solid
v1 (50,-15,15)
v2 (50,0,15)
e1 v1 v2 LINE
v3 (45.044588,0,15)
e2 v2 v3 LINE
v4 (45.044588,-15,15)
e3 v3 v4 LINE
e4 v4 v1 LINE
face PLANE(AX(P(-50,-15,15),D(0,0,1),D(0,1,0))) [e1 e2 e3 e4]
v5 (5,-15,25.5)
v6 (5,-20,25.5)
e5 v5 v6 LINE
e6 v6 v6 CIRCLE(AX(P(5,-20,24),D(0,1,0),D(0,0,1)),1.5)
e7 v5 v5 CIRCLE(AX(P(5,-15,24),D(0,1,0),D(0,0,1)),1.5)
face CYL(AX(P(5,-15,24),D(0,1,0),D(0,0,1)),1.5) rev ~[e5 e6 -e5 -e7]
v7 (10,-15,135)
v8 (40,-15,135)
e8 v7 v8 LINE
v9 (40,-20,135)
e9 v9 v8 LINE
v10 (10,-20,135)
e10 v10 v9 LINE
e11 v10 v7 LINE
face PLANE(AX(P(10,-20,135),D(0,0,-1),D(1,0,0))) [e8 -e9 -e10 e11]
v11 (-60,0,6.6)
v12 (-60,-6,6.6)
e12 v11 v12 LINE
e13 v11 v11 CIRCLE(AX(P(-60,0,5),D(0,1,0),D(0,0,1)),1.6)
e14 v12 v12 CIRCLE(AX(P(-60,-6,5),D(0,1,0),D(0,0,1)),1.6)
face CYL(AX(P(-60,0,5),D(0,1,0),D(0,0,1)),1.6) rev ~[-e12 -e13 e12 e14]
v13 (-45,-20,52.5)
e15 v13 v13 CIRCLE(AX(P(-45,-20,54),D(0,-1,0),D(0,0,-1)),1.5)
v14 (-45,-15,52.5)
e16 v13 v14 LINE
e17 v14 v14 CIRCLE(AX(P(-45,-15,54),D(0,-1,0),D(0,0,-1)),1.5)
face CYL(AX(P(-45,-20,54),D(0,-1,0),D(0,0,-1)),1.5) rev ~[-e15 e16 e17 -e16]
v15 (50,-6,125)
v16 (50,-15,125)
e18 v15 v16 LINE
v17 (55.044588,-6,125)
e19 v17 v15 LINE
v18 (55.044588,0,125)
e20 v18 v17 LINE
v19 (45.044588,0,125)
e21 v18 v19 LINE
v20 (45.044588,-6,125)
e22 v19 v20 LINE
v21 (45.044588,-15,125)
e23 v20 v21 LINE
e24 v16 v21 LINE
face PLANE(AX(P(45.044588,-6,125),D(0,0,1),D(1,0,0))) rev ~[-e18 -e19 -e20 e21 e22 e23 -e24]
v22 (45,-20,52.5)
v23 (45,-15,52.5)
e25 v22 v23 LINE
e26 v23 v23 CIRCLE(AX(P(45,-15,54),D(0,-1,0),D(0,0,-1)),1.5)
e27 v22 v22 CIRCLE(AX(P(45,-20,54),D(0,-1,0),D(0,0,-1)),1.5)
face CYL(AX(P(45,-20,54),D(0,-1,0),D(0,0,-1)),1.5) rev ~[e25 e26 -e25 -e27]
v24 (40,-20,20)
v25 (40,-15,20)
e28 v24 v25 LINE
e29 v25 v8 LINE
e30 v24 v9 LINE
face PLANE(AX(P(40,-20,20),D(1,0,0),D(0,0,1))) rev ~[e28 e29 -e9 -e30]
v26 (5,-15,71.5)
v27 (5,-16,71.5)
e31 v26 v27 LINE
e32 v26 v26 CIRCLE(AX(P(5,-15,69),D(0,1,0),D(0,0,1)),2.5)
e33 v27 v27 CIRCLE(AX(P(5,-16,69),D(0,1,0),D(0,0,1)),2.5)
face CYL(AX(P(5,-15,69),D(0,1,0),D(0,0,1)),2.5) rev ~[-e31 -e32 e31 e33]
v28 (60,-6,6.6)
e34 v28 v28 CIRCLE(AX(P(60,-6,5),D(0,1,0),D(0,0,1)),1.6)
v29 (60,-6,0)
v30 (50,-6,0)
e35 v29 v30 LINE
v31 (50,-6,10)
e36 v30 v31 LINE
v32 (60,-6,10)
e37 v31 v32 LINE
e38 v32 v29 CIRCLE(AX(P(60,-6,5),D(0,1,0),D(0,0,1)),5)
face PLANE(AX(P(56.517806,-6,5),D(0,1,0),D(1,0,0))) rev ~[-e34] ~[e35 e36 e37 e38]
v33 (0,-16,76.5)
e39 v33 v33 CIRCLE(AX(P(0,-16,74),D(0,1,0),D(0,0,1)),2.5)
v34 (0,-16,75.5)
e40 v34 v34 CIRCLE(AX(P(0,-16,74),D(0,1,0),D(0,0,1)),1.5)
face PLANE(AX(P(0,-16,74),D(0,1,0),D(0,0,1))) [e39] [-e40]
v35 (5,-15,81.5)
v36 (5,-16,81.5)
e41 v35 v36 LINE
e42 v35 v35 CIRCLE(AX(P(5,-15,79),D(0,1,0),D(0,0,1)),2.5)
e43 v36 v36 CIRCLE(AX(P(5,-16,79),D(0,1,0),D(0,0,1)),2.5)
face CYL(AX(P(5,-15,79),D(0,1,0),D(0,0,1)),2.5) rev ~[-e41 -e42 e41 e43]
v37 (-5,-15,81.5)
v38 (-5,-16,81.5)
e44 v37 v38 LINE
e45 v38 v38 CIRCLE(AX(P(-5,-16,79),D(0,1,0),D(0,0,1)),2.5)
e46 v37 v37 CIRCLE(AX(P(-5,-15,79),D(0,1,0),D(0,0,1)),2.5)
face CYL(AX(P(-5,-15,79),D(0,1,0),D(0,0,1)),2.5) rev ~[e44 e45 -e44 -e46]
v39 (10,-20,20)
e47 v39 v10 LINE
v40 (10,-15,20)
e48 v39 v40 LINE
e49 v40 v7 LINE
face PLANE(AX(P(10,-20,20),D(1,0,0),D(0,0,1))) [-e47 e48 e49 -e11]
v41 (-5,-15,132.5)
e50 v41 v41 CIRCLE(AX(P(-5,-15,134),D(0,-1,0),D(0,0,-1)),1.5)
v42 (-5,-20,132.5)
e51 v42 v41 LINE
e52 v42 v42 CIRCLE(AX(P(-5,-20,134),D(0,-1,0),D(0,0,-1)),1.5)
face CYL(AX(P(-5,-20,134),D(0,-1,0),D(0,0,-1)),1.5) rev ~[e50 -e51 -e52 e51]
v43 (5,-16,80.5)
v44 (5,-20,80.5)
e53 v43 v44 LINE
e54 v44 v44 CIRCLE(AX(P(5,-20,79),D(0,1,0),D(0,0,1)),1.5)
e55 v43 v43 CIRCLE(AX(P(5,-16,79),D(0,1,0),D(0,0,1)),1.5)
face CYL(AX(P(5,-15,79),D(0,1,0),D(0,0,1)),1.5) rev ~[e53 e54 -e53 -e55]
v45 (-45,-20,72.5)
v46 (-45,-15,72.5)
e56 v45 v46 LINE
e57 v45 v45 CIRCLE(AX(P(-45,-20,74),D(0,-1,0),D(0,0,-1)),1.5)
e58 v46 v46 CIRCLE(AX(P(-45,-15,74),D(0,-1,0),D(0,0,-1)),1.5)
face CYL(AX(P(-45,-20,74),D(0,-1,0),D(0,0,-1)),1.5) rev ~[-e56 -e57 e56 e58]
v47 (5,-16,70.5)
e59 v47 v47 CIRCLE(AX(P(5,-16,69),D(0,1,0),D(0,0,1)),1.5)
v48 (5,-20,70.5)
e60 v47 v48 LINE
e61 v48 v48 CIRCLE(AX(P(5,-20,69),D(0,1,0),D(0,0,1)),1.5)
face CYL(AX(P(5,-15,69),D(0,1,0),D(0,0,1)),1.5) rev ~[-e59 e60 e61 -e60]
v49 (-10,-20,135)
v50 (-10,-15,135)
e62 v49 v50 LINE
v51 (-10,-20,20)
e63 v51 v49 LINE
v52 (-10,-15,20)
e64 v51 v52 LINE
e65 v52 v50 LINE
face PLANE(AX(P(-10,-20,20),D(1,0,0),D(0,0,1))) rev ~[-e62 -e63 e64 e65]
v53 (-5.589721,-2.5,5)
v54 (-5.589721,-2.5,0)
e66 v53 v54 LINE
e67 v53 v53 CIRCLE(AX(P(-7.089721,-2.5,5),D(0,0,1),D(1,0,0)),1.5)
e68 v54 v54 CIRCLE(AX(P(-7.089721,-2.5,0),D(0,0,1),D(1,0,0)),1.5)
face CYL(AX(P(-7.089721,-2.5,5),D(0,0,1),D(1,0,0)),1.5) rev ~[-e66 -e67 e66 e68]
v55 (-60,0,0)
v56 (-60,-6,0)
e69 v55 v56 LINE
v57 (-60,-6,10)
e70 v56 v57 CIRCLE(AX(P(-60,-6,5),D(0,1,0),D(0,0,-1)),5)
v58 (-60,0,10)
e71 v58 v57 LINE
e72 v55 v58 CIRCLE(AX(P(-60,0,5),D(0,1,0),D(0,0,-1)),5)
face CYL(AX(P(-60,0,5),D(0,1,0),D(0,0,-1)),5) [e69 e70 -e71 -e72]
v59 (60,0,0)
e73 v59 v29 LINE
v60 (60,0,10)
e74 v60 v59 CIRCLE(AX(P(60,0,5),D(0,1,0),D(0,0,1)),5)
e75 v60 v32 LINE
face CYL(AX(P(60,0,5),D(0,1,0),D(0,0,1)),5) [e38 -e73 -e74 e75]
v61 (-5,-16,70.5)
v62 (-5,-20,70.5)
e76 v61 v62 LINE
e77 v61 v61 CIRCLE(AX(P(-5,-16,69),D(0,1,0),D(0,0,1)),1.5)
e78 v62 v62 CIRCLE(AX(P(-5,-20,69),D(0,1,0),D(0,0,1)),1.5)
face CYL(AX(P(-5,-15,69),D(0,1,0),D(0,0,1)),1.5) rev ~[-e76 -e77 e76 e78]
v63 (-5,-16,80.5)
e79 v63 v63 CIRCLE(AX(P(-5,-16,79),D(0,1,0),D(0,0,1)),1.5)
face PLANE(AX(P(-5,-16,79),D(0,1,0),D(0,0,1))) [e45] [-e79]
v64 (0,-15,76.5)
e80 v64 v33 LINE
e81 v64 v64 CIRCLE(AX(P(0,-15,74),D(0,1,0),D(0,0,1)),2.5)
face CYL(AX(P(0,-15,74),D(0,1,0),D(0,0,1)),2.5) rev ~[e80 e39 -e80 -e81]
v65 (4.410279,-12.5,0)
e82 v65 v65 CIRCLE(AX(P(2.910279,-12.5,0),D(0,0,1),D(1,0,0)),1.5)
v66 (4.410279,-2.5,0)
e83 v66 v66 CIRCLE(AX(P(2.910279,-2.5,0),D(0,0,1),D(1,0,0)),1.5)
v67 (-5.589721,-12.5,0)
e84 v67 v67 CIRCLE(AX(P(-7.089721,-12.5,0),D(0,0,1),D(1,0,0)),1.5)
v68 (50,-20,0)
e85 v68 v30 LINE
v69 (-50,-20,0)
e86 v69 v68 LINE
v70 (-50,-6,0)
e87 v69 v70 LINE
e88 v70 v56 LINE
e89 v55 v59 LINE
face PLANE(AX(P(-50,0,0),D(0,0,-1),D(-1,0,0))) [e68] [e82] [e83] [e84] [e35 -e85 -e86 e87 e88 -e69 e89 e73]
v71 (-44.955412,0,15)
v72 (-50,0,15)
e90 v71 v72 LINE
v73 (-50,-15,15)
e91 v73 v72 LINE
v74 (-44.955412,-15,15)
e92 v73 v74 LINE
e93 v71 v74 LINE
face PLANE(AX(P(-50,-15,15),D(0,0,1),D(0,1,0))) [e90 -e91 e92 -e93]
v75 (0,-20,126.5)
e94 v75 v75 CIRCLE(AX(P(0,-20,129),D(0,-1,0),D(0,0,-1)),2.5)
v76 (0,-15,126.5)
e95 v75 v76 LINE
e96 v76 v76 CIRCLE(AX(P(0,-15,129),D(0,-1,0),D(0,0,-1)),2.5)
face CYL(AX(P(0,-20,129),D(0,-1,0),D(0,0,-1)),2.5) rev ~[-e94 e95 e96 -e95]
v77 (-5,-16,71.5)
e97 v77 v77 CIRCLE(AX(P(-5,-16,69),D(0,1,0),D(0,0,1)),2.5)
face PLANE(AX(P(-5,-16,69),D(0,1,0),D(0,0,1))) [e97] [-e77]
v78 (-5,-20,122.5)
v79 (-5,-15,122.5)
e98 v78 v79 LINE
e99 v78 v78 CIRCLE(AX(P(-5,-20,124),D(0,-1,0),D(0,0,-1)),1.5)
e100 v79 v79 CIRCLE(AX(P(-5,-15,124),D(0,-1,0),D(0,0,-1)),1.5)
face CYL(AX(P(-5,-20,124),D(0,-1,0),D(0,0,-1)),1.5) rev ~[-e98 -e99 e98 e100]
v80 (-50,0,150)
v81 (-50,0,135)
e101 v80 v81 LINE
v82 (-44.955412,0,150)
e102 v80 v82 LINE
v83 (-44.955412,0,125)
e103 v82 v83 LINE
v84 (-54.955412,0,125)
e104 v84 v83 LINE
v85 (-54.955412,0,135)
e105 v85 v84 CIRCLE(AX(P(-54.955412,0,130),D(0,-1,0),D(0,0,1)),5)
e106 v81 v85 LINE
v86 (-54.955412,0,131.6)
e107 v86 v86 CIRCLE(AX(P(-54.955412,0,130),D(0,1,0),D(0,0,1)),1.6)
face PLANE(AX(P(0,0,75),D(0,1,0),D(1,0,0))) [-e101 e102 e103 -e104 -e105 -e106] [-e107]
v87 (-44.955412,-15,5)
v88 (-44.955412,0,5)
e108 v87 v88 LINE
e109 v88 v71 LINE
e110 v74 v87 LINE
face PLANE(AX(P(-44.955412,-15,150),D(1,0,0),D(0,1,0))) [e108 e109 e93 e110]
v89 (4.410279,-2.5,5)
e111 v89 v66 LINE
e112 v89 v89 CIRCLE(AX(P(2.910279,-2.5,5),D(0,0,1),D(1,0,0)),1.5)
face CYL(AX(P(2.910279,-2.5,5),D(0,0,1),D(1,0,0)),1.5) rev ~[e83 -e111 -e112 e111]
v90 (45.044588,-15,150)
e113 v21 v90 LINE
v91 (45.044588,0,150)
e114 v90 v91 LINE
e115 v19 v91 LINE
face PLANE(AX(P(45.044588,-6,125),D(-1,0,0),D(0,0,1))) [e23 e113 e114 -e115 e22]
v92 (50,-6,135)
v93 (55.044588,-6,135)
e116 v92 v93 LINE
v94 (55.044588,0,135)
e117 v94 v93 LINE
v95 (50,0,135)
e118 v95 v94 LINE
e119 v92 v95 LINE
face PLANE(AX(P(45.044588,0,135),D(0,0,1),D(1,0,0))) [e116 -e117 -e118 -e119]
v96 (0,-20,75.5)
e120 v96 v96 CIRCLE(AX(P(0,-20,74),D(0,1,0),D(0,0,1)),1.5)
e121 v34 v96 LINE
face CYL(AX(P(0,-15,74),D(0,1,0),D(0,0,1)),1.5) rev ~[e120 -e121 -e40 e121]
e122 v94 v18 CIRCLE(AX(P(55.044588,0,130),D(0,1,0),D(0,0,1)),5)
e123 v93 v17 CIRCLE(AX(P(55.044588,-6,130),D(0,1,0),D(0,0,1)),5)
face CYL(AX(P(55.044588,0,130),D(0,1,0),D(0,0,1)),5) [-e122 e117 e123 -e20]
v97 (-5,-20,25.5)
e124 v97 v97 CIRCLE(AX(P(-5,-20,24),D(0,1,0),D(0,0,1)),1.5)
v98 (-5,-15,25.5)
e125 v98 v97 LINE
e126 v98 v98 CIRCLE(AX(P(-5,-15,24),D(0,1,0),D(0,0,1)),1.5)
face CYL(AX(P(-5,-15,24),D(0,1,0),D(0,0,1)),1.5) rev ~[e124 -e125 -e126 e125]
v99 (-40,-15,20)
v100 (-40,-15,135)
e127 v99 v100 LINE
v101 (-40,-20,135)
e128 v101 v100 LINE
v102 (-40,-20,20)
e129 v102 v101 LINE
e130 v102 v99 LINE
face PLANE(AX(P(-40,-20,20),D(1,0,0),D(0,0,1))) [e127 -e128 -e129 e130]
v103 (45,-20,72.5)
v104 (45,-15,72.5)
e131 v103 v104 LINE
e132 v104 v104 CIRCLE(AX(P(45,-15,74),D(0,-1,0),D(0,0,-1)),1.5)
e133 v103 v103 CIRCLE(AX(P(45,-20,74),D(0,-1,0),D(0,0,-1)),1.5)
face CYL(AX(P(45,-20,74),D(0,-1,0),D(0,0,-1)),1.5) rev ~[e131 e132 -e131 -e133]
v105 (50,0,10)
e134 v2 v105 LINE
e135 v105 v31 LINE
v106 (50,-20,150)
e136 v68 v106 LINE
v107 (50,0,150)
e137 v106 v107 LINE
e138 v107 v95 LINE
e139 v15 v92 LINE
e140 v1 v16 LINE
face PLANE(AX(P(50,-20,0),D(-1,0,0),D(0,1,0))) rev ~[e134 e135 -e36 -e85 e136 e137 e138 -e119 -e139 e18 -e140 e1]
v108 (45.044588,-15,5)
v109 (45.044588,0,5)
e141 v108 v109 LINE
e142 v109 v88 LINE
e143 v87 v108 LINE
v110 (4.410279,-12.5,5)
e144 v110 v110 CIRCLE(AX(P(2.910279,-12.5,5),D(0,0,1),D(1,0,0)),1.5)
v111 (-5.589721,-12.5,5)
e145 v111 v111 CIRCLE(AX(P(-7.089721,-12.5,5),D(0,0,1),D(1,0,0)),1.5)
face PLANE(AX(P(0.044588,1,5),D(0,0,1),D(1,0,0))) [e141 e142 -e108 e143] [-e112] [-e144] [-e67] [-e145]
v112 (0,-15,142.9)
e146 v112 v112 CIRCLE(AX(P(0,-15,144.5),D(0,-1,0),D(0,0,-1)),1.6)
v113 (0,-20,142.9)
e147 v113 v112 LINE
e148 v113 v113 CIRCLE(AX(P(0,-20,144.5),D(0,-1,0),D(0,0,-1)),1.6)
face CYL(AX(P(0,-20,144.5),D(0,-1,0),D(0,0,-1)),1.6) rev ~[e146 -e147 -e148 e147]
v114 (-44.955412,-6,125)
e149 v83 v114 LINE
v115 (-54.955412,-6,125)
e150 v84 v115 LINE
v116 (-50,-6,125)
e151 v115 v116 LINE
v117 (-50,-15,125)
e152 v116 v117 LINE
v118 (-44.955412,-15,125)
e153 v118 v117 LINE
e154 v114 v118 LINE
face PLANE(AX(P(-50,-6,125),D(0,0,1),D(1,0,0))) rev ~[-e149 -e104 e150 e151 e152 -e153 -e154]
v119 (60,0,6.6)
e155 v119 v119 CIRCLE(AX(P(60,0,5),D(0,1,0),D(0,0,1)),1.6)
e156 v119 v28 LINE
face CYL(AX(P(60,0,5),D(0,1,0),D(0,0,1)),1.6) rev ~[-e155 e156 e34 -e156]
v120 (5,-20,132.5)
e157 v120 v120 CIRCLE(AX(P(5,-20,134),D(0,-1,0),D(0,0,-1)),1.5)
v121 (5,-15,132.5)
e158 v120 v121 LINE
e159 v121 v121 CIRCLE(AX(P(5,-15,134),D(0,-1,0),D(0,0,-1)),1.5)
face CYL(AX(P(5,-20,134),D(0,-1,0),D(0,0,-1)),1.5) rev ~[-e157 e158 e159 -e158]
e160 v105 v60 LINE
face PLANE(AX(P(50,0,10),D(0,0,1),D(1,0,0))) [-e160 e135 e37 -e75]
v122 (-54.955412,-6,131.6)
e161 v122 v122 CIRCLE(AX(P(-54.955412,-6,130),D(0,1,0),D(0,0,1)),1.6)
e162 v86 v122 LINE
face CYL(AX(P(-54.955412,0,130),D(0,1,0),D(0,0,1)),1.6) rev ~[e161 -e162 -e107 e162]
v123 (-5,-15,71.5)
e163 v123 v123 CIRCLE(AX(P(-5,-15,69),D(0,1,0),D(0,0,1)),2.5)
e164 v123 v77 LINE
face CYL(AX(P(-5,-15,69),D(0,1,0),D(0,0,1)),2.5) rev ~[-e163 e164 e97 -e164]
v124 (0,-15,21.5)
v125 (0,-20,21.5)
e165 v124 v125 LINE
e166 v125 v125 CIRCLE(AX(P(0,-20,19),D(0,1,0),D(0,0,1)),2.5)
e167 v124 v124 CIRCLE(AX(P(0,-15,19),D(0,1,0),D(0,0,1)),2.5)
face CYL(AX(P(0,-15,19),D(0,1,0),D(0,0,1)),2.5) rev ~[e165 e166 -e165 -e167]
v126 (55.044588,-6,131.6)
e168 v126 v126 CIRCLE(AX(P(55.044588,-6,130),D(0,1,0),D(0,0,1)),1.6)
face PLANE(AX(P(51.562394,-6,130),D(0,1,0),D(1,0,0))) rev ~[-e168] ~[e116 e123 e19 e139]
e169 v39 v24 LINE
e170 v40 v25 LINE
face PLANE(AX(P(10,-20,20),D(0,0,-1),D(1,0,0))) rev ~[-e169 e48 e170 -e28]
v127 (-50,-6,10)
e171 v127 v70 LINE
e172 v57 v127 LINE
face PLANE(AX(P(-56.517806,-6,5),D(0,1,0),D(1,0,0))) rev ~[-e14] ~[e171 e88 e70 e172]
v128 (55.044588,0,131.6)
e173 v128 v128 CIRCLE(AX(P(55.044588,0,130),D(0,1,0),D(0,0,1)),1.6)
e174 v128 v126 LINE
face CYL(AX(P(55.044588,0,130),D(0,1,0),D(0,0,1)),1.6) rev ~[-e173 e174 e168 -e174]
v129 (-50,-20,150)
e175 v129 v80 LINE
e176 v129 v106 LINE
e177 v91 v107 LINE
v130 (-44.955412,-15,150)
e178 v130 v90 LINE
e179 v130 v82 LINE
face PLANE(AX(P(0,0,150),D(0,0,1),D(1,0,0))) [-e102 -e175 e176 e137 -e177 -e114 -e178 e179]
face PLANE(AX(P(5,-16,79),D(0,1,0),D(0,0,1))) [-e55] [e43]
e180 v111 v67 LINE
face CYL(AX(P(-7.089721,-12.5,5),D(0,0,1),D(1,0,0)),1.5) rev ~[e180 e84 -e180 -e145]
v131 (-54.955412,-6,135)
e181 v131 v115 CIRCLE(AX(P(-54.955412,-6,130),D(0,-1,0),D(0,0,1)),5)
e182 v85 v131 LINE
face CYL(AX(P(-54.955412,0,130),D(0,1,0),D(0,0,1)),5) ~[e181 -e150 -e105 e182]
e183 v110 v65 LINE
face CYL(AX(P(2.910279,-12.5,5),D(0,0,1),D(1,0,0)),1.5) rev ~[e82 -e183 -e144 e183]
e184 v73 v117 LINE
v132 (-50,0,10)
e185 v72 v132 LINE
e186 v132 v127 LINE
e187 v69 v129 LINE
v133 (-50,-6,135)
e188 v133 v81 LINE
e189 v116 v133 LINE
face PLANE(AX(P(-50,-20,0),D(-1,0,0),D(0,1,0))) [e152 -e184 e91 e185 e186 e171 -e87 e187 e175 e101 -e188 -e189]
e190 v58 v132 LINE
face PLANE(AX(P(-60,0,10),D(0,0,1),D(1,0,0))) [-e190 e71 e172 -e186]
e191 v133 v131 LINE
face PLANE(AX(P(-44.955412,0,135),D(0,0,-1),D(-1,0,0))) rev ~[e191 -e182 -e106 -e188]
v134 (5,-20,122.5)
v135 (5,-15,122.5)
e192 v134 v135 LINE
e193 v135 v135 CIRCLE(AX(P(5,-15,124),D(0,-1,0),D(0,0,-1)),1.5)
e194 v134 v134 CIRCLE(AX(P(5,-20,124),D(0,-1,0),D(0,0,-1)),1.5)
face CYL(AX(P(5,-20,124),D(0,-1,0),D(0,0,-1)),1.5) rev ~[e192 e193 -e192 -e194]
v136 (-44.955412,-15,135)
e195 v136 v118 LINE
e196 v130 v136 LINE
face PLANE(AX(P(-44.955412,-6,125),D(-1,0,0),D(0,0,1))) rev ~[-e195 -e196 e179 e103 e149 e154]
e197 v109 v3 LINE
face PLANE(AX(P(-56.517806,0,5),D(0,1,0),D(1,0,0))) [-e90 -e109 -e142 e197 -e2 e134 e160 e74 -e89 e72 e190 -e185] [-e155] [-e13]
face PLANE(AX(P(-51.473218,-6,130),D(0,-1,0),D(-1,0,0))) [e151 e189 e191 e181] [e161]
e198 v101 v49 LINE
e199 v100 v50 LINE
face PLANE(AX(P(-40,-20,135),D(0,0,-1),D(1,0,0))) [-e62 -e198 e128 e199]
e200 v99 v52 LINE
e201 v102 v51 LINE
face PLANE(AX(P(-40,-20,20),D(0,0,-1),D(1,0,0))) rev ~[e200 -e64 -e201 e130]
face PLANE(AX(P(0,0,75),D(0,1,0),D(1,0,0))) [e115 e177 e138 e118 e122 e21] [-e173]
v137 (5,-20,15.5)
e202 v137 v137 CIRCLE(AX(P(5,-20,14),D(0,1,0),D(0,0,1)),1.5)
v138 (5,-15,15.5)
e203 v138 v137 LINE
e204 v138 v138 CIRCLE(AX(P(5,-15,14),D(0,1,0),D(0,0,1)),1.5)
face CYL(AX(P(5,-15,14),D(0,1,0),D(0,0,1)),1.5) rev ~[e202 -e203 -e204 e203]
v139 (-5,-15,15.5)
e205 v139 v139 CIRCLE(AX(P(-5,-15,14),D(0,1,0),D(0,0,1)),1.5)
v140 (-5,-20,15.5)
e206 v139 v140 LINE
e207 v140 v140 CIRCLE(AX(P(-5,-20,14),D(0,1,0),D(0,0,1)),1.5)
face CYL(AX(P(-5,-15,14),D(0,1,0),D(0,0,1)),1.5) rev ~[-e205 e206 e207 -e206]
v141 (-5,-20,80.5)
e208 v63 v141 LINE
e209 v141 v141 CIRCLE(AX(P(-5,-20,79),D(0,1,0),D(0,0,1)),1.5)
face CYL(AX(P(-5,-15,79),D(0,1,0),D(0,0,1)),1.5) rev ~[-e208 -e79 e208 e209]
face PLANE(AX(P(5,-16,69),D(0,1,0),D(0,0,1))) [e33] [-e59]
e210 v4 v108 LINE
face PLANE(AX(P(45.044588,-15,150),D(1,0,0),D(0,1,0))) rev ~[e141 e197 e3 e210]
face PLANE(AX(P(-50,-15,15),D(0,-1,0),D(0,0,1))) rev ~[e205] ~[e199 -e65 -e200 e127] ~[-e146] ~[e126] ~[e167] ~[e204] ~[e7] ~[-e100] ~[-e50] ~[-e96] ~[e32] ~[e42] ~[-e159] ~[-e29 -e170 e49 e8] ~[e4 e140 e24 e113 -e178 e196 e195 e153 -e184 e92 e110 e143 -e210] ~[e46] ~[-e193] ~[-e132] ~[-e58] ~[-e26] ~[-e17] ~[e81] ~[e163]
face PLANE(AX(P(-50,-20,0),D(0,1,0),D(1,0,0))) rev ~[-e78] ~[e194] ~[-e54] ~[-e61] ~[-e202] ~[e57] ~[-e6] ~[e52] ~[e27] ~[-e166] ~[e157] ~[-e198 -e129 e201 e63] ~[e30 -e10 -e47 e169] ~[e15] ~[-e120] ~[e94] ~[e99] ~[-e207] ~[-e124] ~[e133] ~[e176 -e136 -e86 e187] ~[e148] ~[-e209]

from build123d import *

# Parameters (mm, degrees)
SKETCH_2_W           = 100
SKETCH_2_H           = 40
EXTRUDE_1_DEPTH      = 150
SKETCH_3_W           = 90
SKETCH_3_H           = 32
CUT_EXTRUDE_1_DEPTH  = 145
SKETCH_4_W           = 30
SKETCH_4_H           = 115
CUT_EXTRUDE_2_DEPTH  = 20
SKETCH_5_W           = 35
SKETCH_5_H           = 115
CUT_EXTRUDE_3_DEPTH  = 20
SKETCH_6_W           = 120
SKETCH_6_H           = 31
CUT_EXTRUDE_4_DEPTH  = 207
SKETCH_7_R           = 1.5
CUT_EXTRUDE_5_DEPTH  = 15
SKETCH_8_R           = 2.5
CUT_EXTRUDE_6_DEPTH  = 15
SKETCH_11_W          = 100
SKETCH_11_H          = 150
CUT_EXTRUDE_7_DEPTH  = 20
SKETCH_12_R          = 1.6
EXTRUDE_3_DEPTH      = 6
SKETCH_13_W          = 4.955411511
SKETCH_13_H          = 10
SKETCH_13_W_2        = 5.044588489
EXTRUDE_4_DEPTH      = 10
SKETCH_15_R          = 1.6
CUT_EXTRUDE_8_DEPTH  = 10
SKETCH_16_R          = 1.5
SKETCH_16_R_2        = 2.5
CUT_EXTRUDE_9_DEPTH  = 10
SKETCH_17_R          = 1.5
CUT_EXTRUDE_10_DEPTH = 10
SKETCH_18_R          = 1.5
CUT_EXTRUDE_11_DEPTH = 10
SKETCH_19_R          = 2.5
CUT_EXTRUDE_12_DEPTH = 1
SKETCH_20_R          = 2.5
CUT_EXTRUDE_13_DEPTH = 1


with BuildPart() as part:
    # 草图2 → 凸台-拉伸1 (new body)
    with BuildSketch(Plane.XY):
        Rectangle(SKETCH_2_W, SKETCH_2_H)
    extrude(amount=EXTRUDE_1_DEPTH)

    # 草图3 → 切除-拉伸1 (cut)
    with BuildSketch(Plane.XY.offset(150)):
        with Locations((0.044588489, 1)):
            Rectangle(SKETCH_3_W, SKETCH_3_H)
    extrude(amount=-CUT_EXTRUDE_1_DEPTH, mode=Mode.SUBTRACT)

    # 草图4 → 切除-拉伸2 (cut)
    with BuildSketch(Plane.XZ.offset(20)):
        with Locations((-25, 77.5)):
            Rectangle(SKETCH_4_W, SKETCH_4_H)
        with Locations((25, 77.5)):
            Rectangle(SKETCH_4_W, SKETCH_4_H)
    extrude(amount=-CUT_EXTRUDE_2_DEPTH, mode=Mode.SUBTRACT)

    # 草图5 → 切除-拉伸3 (cut)
    with BuildSketch(Plane(origin=(0, 20, 0), x_dir=(1, 0, 0), z_dir=(0, 1, 0))):
        with Locations((-22.5, -77.5)):
            Rectangle(SKETCH_5_W, SKETCH_5_H)
        with Locations((22.5, -77.5)):
            Rectangle(SKETCH_5_W, SKETCH_5_H)
    extrude(amount=-CUT_EXTRUDE_3_DEPTH, mode=Mode.SUBTRACT)

    # 草图6 → 切除-拉伸4 (cut)
    with BuildSketch(Plane.ZY.offset(50)):
        with Locations((75, 0.5)):
            Rectangle(SKETCH_6_W, SKETCH_6_H)
    extrude(amount=-CUT_EXTRUDE_4_DEPTH, mode=Mode.SUBTRACT)

    # 草图7 → 切除-拉伸5 (cut)
    with BuildSketch(Plane.XZ.offset(20)):
        with Locations(Location((-5, 134, 0), (0, 0, 270))):
            Circle(SKETCH_7_R)
        with Locations(Location((5, 134, 0), (0, 0, 270))):
            Circle(SKETCH_7_R)
        with Locations(Location((5, 124, 0), (0, 0, 270))):
            Circle(SKETCH_7_R)
        with Locations(Location((-5, 124, 0), (0, 0, 270))):
            Circle(SKETCH_7_R)
    extrude(amount=-CUT_EXTRUDE_5_DEPTH, mode=Mode.SUBTRACT)

    # 草图8 → 切除-拉伸6 (cut)
    with BuildSketch(Plane.XZ.offset(20)):
        with Locations(Location((0, 129, 0), (0, 0, 270))):
            Circle(SKETCH_8_R)
    extrude(amount=-CUT_EXTRUDE_6_DEPTH, mode=Mode.SUBTRACT)

    # 草图11 → 切除-拉伸7 (cut)
    with BuildSketch(Plane(origin=(0, 20, 0), x_dir=(1, 0, 0), z_dir=(0, 1, 0))):
        with Locations((0, -75)):
            Rectangle(SKETCH_11_W, SKETCH_11_H)
    extrude(amount=-CUT_EXTRUDE_7_DEPTH, mode=Mode.SUBTRACT)

    # 草图12 → 凸台-拉伸3 (add)
    # profile 1 of 4: a face of its own
    with BuildSketch(Plane(origin=(0, 0, 0), x_dir=(1, 0, 0), z_dir=(0, 1, 0))):
        with BuildLine():
            Line((-50, 0), (-60, 0))
            ThreePointArc((-60, 0), (-65, -5), (-60, -10))
            Line((-60, -10), (-50, -10))
            Line((-50, -10), (-50, 0))
        make_face()
        with Locations(Location((-60, -5, 0), (0, 0, 270))):
            Circle(SKETCH_12_R, mode=Mode.SUBTRACT)
    # profile 2 of 4: a face of its own
    with BuildSketch(Plane(origin=(0, 0, 0), x_dir=(1, 0, 0), z_dir=(0, 1, 0))):
        with BuildLine():
            Line((50, 0), (50, -10))
            Line((50, -10), (60, -10))
            ThreePointArc((60, -10), (65, -5), (60, 0))
            Line((60, 0), (50, 0))
        make_face()
        with Locations(Location((60, -5, 0), (0, 0, 270))):
            Circle(SKETCH_12_R, mode=Mode.SUBTRACT)
    # profile 3 of 4: a face of its own
    with BuildSketch(Plane(origin=(0, 0, 0), x_dir=(1, 0, 0), z_dir=(0, 1, 0))):
        with BuildLine():
            Line((45.044588489, -125), (45.044588489, -135))
            Line((45.044588489, -135), (55.044588489, -135))
            ThreePointArc((55.044588489, -135), (60.044588489, -130), (55.044588489, -125))
            Line((55.044588489, -125), (45.044588489, -125))
        make_face()
        with Locations(Location((55.044588489, -130, 0), (0, 0, 270))):
            Circle(SKETCH_12_R, mode=Mode.SUBTRACT)
    # profile 4 of 4: a face of its own
    with BuildSketch(Plane(origin=(0, 0, 0), x_dir=(1, 0, 0), z_dir=(0, 1, 0))):
        with BuildLine():
            Line((-44.955411511, -125), (-44.955411511, -135))
            Line((-44.955411511, -135), (-54.955411511, -135))
            ThreePointArc((-54.955411511, -135), (-59.955411511, -130), (-54.955411511, -125))
            Line((-54.955411511, -125), (-44.955411511, -125))
        make_face()
        with Locations(Location((-54.955411511, -130, 0), (0, 0, 270))):
            Circle(SKETCH_12_R, mode=Mode.SUBTRACT)
    extrude(amount=-EXTRUDE_3_DEPTH)

    # 草图13 → 凸台-拉伸4 (add)
    with BuildSketch(Plane.XZ.offset(6)):
        with Locations((47.522294245, 130)):
            Rectangle(SKETCH_13_W, SKETCH_13_H)
        with Locations((-47.477705755, 130)):
            Rectangle(SKETCH_13_W_2, SKETCH_13_H)
    extrude(amount=EXTRUDE_4_DEPTH)

    # 草图15 → 切除-拉伸8 (cut)
    with BuildSketch(Plane.XZ.offset(20)):
        with Locations(Location((0, 144.5, 0), (0, 0, 270))):
            Circle(SKETCH_15_R)
    extrude(amount=-CUT_EXTRUDE_8_DEPTH, mode=Mode.SUBTRACT)

    # 草图16 → 切除-拉伸9 (cut)
    with BuildSketch(Plane(origin=(0, -15, 0), x_dir=(1, 0, 0), z_dir=(0, 1, 0))):
        with Locations(Location((0, -74, 0), (0, 0, 270))):
            Circle(SKETCH_16_R)
        with Locations(Location((0, -19, 0), (0, 0, 270))):
            Circle(SKETCH_16_R_2)
        with Locations(Location((-5, -14, 0), (0, 0, 270))):
            Circle(SKETCH_16_R)
        with Locations(Location((5, -14, 0), (0, 0, 270))):
            Circle(SKETCH_16_R)
        with Locations(Location((-5, -24, 0), (0, 0, 270))):
            Circle(SKETCH_16_R)
        with Locations(Location((5, -24, 0), (0, 0, 270))):
            Circle(SKETCH_16_R)
        with Locations(Location((-5, -69, 0), (0, 0, 270))):
            Circle(SKETCH_16_R)
        with Locations(Location((5, -69, 0), (0, 0, 270))):
            Circle(SKETCH_16_R)
        with Locations(Location((5, -79, 0), (0, 0, 270))):
            Circle(SKETCH_16_R)
        with Locations(Location((-5, -79, 0), (0, 0, 270))):
            Circle(SKETCH_16_R)
    extrude(amount=-CUT_EXTRUDE_9_DEPTH, mode=Mode.SUBTRACT)

    # 草图17 → 切除-拉伸10 (cut)
    with BuildSketch(Plane.XZ.offset(20)):
        with Locations(Location((-45, 74, 0), (0, 0, 270))):
            Circle(SKETCH_17_R)
        with Locations(Location((-45, 54, 0), (0, 0, 270))):
            Circle(SKETCH_17_R)
        with Locations(Location((45, 54, 0), (0, 0, 270))):
            Circle(SKETCH_17_R)
        with Locations(Location((45, 74, 0), (0, 0, 270))):
            Circle(SKETCH_17_R)
    extrude(amount=-CUT_EXTRUDE_10_DEPTH, mode=Mode.SUBTRACT)

    # 草图18 → 切除-拉伸11 (cut)
    with BuildSketch(Plane.XY.offset(5)):
        with Locations((-7.089720892, -2.5)):
            Circle(SKETCH_18_R)
        with Locations((2.910279108, -2.5)):
            Circle(SKETCH_18_R)
        with Locations((-7.089720892, -12.5)):
            Circle(SKETCH_18_R)
        with Locations((2.910279108, -12.5)):
            Circle(SKETCH_18_R)
    extrude(amount=-CUT_EXTRUDE_11_DEPTH, mode=Mode.SUBTRACT)

    # 草图19 → 切除-拉伸12 (cut)
    with BuildSketch(Plane(origin=(0, -15, 0), x_dir=(1, 0, 0), z_dir=(0, 1, 0))):
        with Locations(Location((5, -79, 0), (0, 0, 270))):
            Circle(SKETCH_19_R)
        with Locations(Location((-5, -79, 0), (0, 0, 270))):
            Circle(SKETCH_19_R)
        with Locations(Location((-5, -69, 0), (0, 0, 270))):
            Circle(SKETCH_19_R)
        with Locations(Location((5, -69, 0), (0, 0, 270))):
            Circle(SKETCH_19_R)
    extrude(amount=-CUT_EXTRUDE_12_DEPTH, mode=Mode.SUBTRACT)

    # 草图20 → 切除-拉伸13 (cut)
    with BuildSketch(Plane(origin=(0, -15, 0), x_dir=(1, 0, 0), z_dir=(0, 1, 0))):
        with Locations(Location((0, -74, 0), (0, 0, 270))):
            Circle(SKETCH_20_R)
    extrude(amount=-CUT_EXTRUDE_13_DEPTH, mode=Mode.SUBTRACT)


solid = part.part
